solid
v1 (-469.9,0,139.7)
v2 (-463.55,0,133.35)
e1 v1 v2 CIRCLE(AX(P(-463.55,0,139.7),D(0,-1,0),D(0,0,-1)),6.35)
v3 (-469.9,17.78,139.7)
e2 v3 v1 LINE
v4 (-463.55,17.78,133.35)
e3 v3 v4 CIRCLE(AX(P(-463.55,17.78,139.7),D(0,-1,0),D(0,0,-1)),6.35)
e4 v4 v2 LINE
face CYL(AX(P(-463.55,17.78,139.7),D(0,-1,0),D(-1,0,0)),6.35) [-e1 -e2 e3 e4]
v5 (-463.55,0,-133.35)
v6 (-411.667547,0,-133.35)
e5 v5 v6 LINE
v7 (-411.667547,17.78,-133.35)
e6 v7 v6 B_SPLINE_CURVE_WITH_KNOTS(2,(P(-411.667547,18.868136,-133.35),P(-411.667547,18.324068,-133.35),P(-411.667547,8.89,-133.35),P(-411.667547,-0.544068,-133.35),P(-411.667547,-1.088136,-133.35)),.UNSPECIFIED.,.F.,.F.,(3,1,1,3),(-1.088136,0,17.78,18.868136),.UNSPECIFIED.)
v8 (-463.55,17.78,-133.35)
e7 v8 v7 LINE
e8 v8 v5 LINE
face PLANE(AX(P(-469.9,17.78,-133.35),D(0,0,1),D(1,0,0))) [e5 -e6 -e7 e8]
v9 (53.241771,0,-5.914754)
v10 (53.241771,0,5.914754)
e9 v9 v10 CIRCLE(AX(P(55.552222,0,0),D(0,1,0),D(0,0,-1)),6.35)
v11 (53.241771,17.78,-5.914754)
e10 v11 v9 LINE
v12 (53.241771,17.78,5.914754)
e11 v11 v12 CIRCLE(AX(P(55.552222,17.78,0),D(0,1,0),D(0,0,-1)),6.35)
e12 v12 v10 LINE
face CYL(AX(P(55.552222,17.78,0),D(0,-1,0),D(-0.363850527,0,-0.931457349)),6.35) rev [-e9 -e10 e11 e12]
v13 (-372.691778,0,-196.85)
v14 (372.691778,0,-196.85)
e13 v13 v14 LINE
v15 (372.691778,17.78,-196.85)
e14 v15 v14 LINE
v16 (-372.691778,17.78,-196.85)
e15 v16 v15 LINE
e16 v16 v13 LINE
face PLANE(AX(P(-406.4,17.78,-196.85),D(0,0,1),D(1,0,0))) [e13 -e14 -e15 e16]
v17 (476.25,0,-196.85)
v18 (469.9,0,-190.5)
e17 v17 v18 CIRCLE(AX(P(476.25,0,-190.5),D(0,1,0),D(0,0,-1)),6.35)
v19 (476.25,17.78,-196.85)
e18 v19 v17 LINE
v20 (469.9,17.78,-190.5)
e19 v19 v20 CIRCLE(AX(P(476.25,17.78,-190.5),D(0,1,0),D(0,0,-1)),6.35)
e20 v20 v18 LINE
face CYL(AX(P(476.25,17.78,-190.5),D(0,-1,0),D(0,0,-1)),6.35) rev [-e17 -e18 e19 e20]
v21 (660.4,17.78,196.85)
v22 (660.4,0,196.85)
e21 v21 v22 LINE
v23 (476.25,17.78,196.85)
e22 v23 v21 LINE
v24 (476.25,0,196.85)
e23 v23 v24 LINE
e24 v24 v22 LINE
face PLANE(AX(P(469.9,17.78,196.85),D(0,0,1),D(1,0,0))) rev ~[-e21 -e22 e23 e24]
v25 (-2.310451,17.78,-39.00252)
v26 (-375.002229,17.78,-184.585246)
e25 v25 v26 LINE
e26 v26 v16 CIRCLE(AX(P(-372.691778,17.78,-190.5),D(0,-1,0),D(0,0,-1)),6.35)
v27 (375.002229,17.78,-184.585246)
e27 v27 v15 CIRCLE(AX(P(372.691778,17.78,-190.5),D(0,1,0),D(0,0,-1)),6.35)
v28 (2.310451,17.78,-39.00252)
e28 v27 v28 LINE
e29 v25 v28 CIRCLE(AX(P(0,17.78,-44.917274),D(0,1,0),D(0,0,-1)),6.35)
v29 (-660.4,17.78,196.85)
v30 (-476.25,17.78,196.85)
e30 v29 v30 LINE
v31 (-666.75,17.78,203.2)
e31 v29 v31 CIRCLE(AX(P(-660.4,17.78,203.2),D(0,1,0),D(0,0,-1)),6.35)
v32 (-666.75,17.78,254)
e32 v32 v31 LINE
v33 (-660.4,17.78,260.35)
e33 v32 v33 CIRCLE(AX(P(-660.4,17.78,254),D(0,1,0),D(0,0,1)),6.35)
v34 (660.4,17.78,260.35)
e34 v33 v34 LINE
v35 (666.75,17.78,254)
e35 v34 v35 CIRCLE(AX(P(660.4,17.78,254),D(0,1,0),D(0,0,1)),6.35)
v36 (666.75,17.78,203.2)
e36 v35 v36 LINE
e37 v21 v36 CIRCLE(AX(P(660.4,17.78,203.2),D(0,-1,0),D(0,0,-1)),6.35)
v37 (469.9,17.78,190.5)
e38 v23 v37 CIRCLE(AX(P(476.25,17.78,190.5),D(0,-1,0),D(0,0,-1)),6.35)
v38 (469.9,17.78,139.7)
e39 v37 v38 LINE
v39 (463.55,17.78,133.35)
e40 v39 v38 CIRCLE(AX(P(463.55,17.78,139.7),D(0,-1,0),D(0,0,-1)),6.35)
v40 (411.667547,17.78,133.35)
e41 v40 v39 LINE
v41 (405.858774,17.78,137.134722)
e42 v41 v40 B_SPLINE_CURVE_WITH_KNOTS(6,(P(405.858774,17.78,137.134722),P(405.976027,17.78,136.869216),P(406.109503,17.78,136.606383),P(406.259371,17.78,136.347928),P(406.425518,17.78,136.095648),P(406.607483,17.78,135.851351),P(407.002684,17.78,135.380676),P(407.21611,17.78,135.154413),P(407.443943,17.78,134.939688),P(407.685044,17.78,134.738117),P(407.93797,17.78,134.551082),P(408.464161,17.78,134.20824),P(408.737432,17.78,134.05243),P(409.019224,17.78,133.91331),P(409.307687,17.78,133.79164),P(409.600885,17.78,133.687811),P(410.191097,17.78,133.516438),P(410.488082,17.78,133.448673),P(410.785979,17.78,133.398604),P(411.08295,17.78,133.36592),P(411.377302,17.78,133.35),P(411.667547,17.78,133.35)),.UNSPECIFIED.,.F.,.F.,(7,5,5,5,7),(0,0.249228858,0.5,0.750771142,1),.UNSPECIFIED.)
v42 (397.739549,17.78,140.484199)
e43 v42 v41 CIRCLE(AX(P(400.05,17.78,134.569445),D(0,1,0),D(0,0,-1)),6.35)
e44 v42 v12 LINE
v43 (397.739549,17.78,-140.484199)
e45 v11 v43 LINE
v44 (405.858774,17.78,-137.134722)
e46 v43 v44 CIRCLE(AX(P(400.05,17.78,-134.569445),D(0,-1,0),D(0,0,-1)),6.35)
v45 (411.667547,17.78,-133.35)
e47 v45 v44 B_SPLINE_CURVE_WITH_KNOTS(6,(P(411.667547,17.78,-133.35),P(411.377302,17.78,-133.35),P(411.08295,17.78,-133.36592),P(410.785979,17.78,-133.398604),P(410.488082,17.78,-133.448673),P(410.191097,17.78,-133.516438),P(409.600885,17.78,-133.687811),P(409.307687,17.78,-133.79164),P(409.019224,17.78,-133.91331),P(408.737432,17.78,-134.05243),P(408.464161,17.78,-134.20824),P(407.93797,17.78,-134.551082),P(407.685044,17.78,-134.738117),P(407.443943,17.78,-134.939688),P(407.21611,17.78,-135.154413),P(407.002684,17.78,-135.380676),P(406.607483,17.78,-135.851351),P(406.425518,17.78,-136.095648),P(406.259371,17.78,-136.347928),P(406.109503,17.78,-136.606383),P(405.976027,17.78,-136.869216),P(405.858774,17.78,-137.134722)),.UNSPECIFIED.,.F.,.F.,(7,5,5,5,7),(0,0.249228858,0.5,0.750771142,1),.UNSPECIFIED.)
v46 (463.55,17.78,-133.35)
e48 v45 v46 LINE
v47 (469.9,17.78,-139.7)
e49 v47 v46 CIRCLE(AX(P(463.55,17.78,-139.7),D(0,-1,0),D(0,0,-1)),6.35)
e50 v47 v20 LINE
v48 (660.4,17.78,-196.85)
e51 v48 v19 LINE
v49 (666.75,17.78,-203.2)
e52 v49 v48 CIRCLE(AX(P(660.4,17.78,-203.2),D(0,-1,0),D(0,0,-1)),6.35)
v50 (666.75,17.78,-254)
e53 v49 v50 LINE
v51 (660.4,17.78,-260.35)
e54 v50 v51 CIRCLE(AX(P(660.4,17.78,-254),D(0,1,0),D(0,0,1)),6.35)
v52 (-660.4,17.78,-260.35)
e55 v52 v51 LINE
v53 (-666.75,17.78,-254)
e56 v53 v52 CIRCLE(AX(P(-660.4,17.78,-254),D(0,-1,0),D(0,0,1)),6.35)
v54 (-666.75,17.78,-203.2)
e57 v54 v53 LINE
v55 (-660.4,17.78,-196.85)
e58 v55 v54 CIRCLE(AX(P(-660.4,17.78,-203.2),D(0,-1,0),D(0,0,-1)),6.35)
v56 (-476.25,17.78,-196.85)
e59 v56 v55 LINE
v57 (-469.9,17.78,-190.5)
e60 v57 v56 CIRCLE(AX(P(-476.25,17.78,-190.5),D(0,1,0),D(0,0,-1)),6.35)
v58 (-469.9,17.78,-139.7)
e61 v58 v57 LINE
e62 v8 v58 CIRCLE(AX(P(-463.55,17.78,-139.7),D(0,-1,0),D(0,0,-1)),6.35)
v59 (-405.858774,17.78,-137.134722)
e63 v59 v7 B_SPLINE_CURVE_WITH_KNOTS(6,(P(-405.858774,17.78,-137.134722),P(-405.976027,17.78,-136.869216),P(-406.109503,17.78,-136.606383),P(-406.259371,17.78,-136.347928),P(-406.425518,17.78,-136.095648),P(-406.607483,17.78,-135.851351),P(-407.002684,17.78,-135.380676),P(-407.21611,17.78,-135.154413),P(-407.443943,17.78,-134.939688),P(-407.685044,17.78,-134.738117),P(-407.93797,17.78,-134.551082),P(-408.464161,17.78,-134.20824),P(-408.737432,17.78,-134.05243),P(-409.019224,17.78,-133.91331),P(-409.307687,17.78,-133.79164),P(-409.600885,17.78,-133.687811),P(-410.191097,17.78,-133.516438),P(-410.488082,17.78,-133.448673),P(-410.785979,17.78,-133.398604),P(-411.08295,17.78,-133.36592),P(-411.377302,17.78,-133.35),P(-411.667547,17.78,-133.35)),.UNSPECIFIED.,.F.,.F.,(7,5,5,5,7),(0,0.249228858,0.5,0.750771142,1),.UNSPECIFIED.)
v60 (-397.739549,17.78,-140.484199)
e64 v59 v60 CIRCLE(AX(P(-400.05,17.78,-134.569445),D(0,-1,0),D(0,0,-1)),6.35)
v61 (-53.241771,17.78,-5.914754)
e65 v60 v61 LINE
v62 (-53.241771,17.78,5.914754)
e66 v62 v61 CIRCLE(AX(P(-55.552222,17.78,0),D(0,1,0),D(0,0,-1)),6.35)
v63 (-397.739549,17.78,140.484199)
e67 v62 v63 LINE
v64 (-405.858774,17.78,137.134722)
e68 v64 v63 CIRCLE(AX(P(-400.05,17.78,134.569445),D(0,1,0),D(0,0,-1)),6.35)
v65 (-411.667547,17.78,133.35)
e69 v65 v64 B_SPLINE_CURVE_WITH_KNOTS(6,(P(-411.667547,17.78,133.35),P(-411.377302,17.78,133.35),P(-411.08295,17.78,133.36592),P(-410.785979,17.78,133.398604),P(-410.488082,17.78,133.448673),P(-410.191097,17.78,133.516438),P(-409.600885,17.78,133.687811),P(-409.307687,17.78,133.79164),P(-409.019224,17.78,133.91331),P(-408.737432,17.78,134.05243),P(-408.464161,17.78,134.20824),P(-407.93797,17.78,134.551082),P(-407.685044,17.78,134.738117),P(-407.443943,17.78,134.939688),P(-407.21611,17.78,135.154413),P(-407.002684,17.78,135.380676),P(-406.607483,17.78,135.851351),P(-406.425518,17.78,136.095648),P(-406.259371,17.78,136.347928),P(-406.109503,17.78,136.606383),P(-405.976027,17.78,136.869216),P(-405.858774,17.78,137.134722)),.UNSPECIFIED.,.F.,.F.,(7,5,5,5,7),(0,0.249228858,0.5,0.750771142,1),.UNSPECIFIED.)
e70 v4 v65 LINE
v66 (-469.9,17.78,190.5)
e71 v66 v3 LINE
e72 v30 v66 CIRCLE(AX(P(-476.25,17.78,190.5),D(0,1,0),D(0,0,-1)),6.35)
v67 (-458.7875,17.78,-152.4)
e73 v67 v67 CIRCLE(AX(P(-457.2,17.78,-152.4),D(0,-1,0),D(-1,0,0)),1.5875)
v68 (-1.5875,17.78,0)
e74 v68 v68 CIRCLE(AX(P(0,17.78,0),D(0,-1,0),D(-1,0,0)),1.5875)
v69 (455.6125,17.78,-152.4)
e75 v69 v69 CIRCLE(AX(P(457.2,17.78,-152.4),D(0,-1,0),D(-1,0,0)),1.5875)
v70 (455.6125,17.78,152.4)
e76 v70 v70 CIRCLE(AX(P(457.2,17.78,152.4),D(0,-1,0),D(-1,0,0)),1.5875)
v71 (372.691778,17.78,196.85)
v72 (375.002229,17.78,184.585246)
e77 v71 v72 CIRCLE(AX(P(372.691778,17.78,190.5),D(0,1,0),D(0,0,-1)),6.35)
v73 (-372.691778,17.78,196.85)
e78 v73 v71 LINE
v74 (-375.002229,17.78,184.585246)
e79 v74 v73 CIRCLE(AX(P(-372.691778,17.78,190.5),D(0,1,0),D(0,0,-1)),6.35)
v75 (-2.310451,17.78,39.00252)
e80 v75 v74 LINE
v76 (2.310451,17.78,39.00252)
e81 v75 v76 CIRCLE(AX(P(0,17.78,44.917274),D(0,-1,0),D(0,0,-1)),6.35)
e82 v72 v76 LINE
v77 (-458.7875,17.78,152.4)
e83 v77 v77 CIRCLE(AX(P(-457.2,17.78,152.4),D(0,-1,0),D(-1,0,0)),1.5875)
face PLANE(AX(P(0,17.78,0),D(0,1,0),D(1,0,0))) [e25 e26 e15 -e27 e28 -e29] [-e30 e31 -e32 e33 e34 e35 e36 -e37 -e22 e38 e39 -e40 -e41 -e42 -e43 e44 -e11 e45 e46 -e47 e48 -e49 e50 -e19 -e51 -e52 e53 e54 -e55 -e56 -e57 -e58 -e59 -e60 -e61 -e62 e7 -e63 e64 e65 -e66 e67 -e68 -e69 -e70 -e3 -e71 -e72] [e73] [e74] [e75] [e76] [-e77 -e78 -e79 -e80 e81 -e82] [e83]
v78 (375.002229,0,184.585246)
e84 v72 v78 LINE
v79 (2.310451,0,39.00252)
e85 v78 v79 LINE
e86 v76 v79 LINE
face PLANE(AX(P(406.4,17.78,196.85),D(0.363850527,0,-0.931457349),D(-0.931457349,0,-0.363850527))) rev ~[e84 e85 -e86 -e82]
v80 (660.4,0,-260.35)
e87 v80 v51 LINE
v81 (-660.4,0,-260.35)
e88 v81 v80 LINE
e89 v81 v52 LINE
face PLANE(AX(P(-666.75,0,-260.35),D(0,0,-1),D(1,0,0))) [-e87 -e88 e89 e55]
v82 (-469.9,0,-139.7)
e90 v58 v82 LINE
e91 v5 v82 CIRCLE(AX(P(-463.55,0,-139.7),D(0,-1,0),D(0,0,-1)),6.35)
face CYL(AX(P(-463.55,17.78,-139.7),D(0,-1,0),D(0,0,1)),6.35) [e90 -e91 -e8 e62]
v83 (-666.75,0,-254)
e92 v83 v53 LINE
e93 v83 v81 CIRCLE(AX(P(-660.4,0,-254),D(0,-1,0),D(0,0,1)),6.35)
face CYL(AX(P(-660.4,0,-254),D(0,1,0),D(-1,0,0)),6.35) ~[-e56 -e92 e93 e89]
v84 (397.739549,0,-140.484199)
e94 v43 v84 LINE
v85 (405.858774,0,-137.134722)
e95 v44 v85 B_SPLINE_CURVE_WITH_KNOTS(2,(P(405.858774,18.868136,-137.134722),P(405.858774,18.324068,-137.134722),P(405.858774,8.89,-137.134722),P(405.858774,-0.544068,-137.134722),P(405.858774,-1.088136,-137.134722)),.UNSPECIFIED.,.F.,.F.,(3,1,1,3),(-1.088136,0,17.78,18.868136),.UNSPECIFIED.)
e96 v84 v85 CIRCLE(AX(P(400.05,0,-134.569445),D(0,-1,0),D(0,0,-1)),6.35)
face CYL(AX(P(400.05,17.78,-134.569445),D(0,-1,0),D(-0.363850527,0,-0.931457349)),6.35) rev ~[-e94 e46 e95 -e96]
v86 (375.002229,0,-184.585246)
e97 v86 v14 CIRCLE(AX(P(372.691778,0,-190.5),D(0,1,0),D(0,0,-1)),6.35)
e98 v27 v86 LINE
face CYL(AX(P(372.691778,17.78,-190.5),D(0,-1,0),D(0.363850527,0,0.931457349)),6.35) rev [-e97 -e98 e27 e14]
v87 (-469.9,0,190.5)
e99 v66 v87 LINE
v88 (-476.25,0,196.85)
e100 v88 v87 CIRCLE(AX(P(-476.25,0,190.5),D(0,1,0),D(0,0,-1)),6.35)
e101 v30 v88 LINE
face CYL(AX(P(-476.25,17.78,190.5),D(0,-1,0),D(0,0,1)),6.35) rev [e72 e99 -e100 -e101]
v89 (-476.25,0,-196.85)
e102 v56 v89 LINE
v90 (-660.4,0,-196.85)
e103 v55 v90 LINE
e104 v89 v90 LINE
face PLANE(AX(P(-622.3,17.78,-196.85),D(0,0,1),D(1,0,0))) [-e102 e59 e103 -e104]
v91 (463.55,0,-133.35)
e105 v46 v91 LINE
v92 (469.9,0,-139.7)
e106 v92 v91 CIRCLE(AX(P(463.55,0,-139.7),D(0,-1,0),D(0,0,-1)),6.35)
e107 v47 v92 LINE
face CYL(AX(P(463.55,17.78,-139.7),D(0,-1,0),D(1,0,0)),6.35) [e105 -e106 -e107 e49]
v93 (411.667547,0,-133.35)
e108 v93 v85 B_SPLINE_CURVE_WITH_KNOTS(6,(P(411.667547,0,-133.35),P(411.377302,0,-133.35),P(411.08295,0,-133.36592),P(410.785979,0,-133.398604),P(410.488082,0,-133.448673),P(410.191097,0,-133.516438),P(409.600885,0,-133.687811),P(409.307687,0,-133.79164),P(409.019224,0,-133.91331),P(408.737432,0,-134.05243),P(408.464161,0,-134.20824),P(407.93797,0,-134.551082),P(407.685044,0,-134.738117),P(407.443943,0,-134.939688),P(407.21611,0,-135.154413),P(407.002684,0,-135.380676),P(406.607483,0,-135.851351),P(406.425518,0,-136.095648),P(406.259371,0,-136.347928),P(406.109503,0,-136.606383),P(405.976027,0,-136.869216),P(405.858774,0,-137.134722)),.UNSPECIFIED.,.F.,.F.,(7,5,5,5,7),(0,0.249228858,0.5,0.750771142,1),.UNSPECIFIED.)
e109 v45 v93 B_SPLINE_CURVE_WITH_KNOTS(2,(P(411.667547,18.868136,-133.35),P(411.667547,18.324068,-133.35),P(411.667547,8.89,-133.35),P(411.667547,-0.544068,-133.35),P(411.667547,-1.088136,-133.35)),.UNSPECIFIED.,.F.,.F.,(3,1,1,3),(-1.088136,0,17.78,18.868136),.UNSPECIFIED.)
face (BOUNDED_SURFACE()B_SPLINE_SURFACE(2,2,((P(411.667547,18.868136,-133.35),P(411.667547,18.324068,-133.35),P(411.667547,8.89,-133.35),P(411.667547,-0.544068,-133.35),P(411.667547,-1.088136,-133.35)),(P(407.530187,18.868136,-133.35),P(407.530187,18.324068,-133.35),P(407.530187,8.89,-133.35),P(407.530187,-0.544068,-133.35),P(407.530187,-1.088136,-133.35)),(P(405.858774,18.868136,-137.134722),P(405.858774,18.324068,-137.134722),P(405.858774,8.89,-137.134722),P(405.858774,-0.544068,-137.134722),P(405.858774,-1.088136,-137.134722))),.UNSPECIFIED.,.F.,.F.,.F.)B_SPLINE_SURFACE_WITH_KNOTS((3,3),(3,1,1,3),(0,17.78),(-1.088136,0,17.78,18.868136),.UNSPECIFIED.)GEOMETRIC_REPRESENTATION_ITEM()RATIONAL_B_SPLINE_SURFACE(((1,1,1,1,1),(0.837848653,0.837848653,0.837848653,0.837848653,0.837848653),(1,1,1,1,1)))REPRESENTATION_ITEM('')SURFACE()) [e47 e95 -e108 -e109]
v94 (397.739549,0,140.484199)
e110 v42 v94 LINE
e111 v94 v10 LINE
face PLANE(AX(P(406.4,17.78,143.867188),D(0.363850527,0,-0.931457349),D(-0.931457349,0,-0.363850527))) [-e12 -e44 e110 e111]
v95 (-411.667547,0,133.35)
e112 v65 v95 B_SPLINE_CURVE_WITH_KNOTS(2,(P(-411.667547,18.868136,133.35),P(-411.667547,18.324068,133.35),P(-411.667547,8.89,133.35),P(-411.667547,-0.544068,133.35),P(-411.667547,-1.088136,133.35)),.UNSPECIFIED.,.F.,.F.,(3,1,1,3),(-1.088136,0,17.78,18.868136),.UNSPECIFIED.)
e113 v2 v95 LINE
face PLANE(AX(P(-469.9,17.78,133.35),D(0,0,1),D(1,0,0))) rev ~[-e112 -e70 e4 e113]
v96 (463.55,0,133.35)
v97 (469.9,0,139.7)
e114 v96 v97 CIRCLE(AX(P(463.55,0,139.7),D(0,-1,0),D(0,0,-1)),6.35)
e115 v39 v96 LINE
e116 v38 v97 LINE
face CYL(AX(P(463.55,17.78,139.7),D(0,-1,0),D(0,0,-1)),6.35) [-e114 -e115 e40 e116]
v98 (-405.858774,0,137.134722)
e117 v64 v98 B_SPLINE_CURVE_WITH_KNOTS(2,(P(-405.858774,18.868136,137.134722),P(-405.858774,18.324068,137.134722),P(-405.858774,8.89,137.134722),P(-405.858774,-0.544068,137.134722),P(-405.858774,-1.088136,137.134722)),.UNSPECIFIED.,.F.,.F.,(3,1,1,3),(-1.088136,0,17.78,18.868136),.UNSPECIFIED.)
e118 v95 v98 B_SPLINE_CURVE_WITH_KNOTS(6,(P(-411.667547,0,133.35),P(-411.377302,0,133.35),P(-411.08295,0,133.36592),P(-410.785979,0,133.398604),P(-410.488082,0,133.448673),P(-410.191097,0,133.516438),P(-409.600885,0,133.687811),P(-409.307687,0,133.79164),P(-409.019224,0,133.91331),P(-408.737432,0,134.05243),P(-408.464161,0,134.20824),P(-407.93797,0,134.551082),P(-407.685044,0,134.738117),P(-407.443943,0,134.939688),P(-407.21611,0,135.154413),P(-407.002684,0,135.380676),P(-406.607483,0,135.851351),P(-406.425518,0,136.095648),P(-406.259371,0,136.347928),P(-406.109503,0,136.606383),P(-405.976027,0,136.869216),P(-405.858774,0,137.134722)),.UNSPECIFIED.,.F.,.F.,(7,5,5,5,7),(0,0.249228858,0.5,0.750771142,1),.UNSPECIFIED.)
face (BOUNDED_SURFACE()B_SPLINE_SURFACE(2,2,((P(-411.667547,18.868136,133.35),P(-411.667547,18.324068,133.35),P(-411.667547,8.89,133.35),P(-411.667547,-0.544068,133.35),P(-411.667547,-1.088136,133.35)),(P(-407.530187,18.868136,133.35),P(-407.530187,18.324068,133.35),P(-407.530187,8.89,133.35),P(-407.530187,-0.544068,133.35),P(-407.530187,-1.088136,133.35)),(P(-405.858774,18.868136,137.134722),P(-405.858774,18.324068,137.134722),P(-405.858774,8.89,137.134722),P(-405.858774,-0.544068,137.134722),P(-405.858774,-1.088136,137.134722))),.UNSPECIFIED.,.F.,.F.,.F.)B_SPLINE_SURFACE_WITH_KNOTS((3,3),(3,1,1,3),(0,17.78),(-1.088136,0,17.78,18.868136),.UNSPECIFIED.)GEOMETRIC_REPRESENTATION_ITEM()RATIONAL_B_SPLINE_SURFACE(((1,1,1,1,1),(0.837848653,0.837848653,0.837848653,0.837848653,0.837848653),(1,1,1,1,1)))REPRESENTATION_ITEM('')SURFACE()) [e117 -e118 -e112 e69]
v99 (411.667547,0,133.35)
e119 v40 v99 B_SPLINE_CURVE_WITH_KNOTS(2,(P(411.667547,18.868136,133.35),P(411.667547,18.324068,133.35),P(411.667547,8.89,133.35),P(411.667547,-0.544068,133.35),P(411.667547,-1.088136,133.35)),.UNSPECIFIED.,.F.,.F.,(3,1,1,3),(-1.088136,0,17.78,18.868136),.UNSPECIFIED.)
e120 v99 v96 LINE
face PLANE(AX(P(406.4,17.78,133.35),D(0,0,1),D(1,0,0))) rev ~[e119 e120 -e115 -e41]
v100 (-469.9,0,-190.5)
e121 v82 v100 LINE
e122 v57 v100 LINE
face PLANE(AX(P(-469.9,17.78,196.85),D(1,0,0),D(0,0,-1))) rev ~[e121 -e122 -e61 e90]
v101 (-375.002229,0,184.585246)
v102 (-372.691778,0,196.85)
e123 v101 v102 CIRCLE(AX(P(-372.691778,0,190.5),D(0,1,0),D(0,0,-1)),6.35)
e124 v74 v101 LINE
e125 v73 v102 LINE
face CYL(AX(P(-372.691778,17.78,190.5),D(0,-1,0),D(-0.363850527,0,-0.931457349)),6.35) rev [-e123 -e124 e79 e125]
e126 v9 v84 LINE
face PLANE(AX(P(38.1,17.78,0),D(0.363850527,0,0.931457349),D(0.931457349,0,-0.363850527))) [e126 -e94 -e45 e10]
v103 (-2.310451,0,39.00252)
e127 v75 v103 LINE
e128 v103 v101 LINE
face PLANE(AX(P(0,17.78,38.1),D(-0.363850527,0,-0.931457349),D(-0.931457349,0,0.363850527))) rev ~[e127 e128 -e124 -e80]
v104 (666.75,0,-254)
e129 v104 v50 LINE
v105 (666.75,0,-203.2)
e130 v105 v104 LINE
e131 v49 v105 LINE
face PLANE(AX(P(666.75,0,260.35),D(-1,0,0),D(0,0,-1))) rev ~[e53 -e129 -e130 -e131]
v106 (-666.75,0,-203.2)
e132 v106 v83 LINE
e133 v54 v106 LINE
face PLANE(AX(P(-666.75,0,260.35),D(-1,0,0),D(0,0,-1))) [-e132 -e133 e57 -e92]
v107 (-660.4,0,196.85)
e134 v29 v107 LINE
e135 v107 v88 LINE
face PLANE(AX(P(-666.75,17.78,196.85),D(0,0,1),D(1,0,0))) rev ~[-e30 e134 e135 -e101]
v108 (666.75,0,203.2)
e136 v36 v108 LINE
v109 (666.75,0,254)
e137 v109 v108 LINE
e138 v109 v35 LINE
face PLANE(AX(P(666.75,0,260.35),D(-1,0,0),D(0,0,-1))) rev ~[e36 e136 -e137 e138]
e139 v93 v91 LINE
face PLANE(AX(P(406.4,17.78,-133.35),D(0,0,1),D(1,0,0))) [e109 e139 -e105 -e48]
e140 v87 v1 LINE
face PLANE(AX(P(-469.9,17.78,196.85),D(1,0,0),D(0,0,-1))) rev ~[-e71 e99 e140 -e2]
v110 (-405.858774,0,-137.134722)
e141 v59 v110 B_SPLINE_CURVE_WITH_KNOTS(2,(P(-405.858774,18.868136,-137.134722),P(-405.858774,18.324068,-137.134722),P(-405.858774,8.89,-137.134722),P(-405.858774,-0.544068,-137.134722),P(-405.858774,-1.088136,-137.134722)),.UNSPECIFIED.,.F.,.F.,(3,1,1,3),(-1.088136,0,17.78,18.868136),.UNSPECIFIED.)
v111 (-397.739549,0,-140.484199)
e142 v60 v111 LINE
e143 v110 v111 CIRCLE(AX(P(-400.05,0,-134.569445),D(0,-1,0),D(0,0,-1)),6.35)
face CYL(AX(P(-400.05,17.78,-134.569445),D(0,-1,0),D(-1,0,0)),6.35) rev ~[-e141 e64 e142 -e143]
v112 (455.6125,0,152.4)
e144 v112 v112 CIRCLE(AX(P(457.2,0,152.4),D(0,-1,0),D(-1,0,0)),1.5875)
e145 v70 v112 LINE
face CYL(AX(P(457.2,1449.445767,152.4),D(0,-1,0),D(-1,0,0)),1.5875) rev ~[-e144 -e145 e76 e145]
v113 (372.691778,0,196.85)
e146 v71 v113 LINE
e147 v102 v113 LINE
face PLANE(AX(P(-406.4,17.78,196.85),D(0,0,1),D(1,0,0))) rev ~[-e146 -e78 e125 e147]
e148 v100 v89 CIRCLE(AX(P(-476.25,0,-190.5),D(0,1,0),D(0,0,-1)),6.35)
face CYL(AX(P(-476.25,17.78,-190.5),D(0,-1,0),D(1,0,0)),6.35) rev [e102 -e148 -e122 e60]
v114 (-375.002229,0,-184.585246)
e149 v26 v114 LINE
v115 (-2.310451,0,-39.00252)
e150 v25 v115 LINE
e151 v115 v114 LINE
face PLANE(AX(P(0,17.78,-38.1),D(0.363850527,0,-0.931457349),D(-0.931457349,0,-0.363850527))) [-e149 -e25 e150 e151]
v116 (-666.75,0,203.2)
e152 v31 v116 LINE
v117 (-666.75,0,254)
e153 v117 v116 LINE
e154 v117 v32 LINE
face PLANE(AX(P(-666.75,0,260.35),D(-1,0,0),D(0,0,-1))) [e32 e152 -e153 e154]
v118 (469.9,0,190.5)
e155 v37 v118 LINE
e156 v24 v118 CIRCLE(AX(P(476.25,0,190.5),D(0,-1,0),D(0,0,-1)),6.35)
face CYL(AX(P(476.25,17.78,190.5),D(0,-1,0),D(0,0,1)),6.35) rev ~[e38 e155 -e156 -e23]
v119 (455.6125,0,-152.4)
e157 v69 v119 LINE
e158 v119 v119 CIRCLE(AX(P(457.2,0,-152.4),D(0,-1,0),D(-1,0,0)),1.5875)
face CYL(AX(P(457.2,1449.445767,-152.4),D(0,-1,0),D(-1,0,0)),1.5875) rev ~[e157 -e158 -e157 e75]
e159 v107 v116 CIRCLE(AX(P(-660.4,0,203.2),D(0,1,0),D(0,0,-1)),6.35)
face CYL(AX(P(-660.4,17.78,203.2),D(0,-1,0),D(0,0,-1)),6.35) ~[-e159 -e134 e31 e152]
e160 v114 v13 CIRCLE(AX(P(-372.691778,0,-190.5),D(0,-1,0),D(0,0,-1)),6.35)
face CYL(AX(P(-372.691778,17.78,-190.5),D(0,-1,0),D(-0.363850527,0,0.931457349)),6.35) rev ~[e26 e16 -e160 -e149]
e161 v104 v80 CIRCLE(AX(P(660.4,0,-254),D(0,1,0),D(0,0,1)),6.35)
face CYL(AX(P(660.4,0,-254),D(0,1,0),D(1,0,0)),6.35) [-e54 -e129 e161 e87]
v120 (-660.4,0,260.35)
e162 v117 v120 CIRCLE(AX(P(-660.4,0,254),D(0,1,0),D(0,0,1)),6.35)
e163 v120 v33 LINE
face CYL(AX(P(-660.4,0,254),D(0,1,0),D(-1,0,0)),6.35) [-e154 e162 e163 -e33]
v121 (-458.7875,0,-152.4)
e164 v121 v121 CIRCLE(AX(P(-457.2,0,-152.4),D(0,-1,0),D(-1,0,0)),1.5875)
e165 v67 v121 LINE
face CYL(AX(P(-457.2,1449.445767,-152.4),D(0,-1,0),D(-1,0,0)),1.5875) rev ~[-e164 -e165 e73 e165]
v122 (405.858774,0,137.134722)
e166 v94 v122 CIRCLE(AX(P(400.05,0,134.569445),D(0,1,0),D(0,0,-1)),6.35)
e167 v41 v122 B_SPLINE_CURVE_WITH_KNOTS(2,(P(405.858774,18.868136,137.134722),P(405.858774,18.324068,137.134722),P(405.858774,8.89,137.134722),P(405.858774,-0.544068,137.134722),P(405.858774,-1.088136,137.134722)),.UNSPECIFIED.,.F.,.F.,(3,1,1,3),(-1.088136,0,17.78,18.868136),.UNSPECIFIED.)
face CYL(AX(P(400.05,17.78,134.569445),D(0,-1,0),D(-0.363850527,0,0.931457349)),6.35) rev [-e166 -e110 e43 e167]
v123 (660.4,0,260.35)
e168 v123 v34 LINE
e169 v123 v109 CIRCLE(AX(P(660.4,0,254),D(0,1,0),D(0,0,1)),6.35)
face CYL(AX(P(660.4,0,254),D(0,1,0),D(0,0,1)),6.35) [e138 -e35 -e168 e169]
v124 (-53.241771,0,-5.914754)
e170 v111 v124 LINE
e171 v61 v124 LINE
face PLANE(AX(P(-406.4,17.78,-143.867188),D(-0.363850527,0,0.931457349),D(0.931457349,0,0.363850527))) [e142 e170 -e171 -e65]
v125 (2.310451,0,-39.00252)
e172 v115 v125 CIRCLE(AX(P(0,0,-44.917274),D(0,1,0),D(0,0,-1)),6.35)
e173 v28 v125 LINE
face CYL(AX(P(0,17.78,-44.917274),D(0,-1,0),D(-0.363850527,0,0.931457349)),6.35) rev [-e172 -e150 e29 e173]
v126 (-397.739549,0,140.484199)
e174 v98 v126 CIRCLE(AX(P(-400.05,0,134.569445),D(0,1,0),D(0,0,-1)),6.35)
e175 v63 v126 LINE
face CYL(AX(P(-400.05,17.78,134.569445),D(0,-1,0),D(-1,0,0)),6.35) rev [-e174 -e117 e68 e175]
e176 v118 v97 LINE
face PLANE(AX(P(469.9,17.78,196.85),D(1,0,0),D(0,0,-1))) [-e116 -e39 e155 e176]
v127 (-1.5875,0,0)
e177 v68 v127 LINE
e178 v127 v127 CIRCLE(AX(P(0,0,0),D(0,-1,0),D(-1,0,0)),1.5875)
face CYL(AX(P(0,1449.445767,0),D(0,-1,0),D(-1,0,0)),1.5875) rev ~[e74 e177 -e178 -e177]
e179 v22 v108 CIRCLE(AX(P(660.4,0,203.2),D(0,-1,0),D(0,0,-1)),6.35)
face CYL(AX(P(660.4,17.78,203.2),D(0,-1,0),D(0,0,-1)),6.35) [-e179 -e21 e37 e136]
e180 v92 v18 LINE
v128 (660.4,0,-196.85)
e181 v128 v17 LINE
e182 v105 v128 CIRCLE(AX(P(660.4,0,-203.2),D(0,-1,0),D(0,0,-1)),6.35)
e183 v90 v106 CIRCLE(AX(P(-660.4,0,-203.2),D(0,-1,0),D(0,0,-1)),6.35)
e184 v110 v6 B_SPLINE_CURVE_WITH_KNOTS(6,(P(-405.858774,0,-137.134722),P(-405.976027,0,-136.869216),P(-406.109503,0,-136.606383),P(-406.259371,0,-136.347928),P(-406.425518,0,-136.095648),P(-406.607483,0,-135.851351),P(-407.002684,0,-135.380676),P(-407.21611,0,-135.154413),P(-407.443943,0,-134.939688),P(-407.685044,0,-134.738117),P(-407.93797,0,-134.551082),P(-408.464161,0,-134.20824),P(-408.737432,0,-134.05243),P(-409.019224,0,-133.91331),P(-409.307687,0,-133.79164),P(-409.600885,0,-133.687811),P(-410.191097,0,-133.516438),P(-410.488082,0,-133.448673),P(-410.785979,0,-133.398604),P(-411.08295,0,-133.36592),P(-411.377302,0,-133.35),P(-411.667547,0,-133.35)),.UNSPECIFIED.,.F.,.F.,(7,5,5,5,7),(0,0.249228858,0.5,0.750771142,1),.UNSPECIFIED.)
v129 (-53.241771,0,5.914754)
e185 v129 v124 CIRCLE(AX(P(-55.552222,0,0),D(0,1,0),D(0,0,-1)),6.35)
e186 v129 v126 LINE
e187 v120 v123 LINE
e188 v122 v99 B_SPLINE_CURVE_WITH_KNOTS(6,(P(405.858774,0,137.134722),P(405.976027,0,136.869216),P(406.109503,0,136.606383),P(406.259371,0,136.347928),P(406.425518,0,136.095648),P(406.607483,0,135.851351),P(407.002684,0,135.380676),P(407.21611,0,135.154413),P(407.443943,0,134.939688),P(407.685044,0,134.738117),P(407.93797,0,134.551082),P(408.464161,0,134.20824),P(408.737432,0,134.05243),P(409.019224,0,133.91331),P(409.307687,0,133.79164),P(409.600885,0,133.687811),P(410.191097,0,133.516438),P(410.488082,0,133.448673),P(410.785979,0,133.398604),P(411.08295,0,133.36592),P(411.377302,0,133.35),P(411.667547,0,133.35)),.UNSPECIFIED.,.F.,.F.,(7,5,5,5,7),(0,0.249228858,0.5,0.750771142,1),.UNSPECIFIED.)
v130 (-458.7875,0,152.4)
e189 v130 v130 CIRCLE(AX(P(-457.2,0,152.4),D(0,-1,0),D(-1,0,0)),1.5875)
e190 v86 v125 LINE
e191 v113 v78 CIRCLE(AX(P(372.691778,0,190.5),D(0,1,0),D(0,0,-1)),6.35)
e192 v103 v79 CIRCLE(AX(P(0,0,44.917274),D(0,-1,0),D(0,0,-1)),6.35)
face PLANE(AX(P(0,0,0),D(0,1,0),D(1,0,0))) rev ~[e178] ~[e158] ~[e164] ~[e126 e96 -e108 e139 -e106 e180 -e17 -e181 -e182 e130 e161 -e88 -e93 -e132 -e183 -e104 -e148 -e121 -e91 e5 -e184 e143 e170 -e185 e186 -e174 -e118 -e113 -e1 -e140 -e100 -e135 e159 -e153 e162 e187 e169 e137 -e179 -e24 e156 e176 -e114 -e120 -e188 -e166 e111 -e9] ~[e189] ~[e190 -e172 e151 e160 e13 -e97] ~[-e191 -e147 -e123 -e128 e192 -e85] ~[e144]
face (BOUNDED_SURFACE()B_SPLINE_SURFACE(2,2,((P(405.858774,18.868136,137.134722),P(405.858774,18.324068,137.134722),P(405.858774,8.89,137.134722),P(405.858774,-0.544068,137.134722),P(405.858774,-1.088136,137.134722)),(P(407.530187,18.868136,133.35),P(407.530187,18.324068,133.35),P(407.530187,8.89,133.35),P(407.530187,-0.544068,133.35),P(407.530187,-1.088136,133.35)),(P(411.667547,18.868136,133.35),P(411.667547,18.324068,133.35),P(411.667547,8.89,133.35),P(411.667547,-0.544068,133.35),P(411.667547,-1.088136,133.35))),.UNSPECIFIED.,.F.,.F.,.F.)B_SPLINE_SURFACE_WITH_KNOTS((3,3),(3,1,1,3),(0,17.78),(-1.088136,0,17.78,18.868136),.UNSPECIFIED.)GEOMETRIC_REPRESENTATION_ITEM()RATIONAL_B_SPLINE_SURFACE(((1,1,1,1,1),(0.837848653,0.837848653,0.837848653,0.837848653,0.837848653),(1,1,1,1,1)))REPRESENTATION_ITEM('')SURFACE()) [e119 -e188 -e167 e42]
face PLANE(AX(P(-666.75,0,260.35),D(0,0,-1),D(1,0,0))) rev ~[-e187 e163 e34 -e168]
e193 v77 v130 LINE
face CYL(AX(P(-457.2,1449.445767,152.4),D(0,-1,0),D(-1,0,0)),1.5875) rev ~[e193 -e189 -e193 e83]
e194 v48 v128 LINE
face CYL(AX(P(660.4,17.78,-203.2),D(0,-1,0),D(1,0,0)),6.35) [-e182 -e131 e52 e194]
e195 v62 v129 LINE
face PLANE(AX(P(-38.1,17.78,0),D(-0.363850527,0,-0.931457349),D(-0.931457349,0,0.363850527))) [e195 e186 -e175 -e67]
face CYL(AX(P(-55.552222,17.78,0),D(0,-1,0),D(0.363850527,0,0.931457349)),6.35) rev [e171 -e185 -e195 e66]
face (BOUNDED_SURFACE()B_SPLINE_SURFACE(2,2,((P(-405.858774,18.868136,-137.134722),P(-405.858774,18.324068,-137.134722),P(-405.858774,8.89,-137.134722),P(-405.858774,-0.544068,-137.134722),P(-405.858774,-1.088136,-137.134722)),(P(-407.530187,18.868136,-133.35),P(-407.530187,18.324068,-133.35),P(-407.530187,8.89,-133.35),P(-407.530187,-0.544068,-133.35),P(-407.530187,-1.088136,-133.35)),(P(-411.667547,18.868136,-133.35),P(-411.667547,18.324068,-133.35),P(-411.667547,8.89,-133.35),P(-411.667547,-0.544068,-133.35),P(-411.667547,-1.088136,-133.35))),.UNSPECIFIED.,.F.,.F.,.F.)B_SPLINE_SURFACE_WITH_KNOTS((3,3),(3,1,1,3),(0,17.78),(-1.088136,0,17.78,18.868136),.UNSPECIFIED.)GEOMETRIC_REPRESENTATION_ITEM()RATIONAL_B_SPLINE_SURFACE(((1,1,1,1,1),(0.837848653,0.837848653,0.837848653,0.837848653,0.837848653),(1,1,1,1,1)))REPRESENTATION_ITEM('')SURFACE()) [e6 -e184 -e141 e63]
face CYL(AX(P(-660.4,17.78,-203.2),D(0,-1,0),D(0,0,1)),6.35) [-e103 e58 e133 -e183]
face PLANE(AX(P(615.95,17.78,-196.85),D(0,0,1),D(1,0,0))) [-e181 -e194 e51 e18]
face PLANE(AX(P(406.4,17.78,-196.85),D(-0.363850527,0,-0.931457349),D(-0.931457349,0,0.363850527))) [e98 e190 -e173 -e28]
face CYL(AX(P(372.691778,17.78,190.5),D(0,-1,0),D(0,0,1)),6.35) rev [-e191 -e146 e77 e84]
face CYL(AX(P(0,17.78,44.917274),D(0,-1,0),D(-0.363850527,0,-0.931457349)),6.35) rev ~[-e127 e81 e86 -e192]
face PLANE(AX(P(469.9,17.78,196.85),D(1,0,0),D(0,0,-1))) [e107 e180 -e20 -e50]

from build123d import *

# Parameters (mm, degrees)
SKETCH1_W                    = 1333.5
SKETCH1_H                    = 520.7
BOSS_EXTRUDE1_DEPTH          = 17.78
FILLET1_R                    = 6.35
F_1_8_0_125_DIAMETER_HOLE1_D = 3.175
SKETCH5_W                    = 152.4
SKETCH5_H                    = 393.7
CUT_EXTRUDE1_DEPTH           = 18.78
FILLET2_R                    = 6.35
SKETCH6_W                    = 50.8
SKETCH6_H                    = 393.7
SKETCH6_W_2                  = 63.5
SKETCH6_H_2                  = 266.7
CUT_EXTRUDE2_DEPTH           = 18.78
FILLET3_R                    = 6.35


with BuildPart() as part:
    # Sketch1 → Boss-Extrude1 (new body)
    with BuildSketch(Plane(origin=(0, 0, 0), x_dir=(1, 0, 0), z_dir=(0, 1, 0))):
        Rectangle(SKETCH1_W, SKETCH1_H)
    extrude(amount=BOSS_EXTRUDE1_DEPTH)

    # Fillet1
    fillet1_edges = [part.edges().sort_by_distance(p)[0] for p in [
        (666.75, 8.89, 260.35),
        (-666.75, 8.89, 260.35),
        (-666.75, 8.89, -260.35),
        (666.75, 8.89, -260.35),
    ]]
    fillet(fillet1_edges, radius=FILLET1_R)

    # 1/8 (0.125) Diameter Hole1 (through all)
    with Locations(Plane(origin=(0, 17.78, 0), x_dir=(1, 0, 0), z_dir=(0, 1, 0))):
        with Locations((0, 0), (457.2, 152.4), (-457.2, -152.4), (-457.2, 152.4), (457.2, -152.4)):
            Hole(F_1_8_0_125_DIAMETER_HOLE1_D / 2)

    # Sketch5 → Cut-Extrude1 (cut, through all)
    with BuildSketch(Plane(origin=(0, 17.78, 0), x_dir=(1, 0, 0), z_dir=(0, 1, 0))):
        Polygon((-406.4, 196.85), (406.4, 196.85), (0, 38.1), align=None)
        Polygon((0, -38.1), (-406.4, -196.85), (406.4, -196.85), align=None)
        Polygon((406.4, 143.8671875), (406.4, -143.8671875), (38.1, 0), align=None)
        Polygon((-406.4, 143.8671875), (-38.1, 0), (-406.4, -143.8671875), align=None)
        with Locations((546.1, 0)):
            Rectangle(SKETCH5_W, SKETCH5_H)
        with Locations((-546.1, 0)):
            Rectangle(SKETCH5_W, SKETCH5_H)
    extrude(amount=-CUT_EXTRUDE1_DEPTH, mode=Mode.SUBTRACT)

    # Fillet2
    fillet2_edges = [part.edges().sort_by_distance(p)[0] for p in [
        (-406.4, 8.89, 143.8671875),
        (-406.4, 8.89, -143.8671875),
        (-38.1, 8.89, 0),
        (622.3, 8.89, -196.85),
        (622.3, 8.89, 196.85),
        (469.9, 8.89, 196.85),
        (469.9, 8.89, -196.85),
        (0, 8.89, 38.1),
        (406.4, 8.89, 196.85),
        (-406.4, 8.89, 196.85),
        (38.1, 8.89, 0),
        (406.4, 8.89, -143.8671875),
        (406.4, 8.89, 143.8671875),
        (406.4, 8.89, -196.85),
        (0, 8.89, -38.1),
        (-406.4, 8.89, -196.85),
        (-469.9, 8.89, -196.85),
        (-469.9, 8.89, 196.85),
        (-622.3, 8.89, 196.85),
        (-622.3, 8.89, -196.85),
    ]]
    fillet(fillet2_edges, radius=FILLET2_R)

    # Sketch6 → Cut-Extrude2 (cut, through all)
    with BuildSketch(Plane(origin=(0, 17.78, 0), x_dir=(1, 0, 0), z_dir=(0, 1, 0))):
        with Locations((641.35, 0)):
            Rectangle(SKETCH6_W, SKETCH6_H)
        with Locations((-641.35, 0)):
            Rectangle(SKETCH6_W, SKETCH6_H)
        with Locations((-438.15, 0)):
            Rectangle(SKETCH6_W_2, SKETCH6_H_2)
        with Locations((438.15, 0)):
            Rectangle(SKETCH6_W_2, SKETCH6_H_2)
    extrude(amount=-CUT_EXTRUDE2_DEPTH, mode=Mode.SUBTRACT)

    # Fillet3
    fillet3_edges = [part.edges().sort_by_distance(p)[0] for p in [
        (-666.75, 8.89, 196.85),
        (-666.75, 8.89, -196.85),
        (666.75, 8.89, -196.85),
        (666.75, 8.89, 196.85),
        (-406.4, 8.89, 133.35),
        (-406.4, 8.89, -133.35),
        (-469.9, 8.89, 133.35),
        (-469.9, 8.89, -133.35),
        (469.9, 8.89, -133.35),
        (406.4, 8.89, -133.35),
        (469.9, 8.89, 133.35),
        (406.4, 8.89, 133.35),
    ]]
    fillet(fillet3_edges, radius=FILLET3_R)


solid = part.part
